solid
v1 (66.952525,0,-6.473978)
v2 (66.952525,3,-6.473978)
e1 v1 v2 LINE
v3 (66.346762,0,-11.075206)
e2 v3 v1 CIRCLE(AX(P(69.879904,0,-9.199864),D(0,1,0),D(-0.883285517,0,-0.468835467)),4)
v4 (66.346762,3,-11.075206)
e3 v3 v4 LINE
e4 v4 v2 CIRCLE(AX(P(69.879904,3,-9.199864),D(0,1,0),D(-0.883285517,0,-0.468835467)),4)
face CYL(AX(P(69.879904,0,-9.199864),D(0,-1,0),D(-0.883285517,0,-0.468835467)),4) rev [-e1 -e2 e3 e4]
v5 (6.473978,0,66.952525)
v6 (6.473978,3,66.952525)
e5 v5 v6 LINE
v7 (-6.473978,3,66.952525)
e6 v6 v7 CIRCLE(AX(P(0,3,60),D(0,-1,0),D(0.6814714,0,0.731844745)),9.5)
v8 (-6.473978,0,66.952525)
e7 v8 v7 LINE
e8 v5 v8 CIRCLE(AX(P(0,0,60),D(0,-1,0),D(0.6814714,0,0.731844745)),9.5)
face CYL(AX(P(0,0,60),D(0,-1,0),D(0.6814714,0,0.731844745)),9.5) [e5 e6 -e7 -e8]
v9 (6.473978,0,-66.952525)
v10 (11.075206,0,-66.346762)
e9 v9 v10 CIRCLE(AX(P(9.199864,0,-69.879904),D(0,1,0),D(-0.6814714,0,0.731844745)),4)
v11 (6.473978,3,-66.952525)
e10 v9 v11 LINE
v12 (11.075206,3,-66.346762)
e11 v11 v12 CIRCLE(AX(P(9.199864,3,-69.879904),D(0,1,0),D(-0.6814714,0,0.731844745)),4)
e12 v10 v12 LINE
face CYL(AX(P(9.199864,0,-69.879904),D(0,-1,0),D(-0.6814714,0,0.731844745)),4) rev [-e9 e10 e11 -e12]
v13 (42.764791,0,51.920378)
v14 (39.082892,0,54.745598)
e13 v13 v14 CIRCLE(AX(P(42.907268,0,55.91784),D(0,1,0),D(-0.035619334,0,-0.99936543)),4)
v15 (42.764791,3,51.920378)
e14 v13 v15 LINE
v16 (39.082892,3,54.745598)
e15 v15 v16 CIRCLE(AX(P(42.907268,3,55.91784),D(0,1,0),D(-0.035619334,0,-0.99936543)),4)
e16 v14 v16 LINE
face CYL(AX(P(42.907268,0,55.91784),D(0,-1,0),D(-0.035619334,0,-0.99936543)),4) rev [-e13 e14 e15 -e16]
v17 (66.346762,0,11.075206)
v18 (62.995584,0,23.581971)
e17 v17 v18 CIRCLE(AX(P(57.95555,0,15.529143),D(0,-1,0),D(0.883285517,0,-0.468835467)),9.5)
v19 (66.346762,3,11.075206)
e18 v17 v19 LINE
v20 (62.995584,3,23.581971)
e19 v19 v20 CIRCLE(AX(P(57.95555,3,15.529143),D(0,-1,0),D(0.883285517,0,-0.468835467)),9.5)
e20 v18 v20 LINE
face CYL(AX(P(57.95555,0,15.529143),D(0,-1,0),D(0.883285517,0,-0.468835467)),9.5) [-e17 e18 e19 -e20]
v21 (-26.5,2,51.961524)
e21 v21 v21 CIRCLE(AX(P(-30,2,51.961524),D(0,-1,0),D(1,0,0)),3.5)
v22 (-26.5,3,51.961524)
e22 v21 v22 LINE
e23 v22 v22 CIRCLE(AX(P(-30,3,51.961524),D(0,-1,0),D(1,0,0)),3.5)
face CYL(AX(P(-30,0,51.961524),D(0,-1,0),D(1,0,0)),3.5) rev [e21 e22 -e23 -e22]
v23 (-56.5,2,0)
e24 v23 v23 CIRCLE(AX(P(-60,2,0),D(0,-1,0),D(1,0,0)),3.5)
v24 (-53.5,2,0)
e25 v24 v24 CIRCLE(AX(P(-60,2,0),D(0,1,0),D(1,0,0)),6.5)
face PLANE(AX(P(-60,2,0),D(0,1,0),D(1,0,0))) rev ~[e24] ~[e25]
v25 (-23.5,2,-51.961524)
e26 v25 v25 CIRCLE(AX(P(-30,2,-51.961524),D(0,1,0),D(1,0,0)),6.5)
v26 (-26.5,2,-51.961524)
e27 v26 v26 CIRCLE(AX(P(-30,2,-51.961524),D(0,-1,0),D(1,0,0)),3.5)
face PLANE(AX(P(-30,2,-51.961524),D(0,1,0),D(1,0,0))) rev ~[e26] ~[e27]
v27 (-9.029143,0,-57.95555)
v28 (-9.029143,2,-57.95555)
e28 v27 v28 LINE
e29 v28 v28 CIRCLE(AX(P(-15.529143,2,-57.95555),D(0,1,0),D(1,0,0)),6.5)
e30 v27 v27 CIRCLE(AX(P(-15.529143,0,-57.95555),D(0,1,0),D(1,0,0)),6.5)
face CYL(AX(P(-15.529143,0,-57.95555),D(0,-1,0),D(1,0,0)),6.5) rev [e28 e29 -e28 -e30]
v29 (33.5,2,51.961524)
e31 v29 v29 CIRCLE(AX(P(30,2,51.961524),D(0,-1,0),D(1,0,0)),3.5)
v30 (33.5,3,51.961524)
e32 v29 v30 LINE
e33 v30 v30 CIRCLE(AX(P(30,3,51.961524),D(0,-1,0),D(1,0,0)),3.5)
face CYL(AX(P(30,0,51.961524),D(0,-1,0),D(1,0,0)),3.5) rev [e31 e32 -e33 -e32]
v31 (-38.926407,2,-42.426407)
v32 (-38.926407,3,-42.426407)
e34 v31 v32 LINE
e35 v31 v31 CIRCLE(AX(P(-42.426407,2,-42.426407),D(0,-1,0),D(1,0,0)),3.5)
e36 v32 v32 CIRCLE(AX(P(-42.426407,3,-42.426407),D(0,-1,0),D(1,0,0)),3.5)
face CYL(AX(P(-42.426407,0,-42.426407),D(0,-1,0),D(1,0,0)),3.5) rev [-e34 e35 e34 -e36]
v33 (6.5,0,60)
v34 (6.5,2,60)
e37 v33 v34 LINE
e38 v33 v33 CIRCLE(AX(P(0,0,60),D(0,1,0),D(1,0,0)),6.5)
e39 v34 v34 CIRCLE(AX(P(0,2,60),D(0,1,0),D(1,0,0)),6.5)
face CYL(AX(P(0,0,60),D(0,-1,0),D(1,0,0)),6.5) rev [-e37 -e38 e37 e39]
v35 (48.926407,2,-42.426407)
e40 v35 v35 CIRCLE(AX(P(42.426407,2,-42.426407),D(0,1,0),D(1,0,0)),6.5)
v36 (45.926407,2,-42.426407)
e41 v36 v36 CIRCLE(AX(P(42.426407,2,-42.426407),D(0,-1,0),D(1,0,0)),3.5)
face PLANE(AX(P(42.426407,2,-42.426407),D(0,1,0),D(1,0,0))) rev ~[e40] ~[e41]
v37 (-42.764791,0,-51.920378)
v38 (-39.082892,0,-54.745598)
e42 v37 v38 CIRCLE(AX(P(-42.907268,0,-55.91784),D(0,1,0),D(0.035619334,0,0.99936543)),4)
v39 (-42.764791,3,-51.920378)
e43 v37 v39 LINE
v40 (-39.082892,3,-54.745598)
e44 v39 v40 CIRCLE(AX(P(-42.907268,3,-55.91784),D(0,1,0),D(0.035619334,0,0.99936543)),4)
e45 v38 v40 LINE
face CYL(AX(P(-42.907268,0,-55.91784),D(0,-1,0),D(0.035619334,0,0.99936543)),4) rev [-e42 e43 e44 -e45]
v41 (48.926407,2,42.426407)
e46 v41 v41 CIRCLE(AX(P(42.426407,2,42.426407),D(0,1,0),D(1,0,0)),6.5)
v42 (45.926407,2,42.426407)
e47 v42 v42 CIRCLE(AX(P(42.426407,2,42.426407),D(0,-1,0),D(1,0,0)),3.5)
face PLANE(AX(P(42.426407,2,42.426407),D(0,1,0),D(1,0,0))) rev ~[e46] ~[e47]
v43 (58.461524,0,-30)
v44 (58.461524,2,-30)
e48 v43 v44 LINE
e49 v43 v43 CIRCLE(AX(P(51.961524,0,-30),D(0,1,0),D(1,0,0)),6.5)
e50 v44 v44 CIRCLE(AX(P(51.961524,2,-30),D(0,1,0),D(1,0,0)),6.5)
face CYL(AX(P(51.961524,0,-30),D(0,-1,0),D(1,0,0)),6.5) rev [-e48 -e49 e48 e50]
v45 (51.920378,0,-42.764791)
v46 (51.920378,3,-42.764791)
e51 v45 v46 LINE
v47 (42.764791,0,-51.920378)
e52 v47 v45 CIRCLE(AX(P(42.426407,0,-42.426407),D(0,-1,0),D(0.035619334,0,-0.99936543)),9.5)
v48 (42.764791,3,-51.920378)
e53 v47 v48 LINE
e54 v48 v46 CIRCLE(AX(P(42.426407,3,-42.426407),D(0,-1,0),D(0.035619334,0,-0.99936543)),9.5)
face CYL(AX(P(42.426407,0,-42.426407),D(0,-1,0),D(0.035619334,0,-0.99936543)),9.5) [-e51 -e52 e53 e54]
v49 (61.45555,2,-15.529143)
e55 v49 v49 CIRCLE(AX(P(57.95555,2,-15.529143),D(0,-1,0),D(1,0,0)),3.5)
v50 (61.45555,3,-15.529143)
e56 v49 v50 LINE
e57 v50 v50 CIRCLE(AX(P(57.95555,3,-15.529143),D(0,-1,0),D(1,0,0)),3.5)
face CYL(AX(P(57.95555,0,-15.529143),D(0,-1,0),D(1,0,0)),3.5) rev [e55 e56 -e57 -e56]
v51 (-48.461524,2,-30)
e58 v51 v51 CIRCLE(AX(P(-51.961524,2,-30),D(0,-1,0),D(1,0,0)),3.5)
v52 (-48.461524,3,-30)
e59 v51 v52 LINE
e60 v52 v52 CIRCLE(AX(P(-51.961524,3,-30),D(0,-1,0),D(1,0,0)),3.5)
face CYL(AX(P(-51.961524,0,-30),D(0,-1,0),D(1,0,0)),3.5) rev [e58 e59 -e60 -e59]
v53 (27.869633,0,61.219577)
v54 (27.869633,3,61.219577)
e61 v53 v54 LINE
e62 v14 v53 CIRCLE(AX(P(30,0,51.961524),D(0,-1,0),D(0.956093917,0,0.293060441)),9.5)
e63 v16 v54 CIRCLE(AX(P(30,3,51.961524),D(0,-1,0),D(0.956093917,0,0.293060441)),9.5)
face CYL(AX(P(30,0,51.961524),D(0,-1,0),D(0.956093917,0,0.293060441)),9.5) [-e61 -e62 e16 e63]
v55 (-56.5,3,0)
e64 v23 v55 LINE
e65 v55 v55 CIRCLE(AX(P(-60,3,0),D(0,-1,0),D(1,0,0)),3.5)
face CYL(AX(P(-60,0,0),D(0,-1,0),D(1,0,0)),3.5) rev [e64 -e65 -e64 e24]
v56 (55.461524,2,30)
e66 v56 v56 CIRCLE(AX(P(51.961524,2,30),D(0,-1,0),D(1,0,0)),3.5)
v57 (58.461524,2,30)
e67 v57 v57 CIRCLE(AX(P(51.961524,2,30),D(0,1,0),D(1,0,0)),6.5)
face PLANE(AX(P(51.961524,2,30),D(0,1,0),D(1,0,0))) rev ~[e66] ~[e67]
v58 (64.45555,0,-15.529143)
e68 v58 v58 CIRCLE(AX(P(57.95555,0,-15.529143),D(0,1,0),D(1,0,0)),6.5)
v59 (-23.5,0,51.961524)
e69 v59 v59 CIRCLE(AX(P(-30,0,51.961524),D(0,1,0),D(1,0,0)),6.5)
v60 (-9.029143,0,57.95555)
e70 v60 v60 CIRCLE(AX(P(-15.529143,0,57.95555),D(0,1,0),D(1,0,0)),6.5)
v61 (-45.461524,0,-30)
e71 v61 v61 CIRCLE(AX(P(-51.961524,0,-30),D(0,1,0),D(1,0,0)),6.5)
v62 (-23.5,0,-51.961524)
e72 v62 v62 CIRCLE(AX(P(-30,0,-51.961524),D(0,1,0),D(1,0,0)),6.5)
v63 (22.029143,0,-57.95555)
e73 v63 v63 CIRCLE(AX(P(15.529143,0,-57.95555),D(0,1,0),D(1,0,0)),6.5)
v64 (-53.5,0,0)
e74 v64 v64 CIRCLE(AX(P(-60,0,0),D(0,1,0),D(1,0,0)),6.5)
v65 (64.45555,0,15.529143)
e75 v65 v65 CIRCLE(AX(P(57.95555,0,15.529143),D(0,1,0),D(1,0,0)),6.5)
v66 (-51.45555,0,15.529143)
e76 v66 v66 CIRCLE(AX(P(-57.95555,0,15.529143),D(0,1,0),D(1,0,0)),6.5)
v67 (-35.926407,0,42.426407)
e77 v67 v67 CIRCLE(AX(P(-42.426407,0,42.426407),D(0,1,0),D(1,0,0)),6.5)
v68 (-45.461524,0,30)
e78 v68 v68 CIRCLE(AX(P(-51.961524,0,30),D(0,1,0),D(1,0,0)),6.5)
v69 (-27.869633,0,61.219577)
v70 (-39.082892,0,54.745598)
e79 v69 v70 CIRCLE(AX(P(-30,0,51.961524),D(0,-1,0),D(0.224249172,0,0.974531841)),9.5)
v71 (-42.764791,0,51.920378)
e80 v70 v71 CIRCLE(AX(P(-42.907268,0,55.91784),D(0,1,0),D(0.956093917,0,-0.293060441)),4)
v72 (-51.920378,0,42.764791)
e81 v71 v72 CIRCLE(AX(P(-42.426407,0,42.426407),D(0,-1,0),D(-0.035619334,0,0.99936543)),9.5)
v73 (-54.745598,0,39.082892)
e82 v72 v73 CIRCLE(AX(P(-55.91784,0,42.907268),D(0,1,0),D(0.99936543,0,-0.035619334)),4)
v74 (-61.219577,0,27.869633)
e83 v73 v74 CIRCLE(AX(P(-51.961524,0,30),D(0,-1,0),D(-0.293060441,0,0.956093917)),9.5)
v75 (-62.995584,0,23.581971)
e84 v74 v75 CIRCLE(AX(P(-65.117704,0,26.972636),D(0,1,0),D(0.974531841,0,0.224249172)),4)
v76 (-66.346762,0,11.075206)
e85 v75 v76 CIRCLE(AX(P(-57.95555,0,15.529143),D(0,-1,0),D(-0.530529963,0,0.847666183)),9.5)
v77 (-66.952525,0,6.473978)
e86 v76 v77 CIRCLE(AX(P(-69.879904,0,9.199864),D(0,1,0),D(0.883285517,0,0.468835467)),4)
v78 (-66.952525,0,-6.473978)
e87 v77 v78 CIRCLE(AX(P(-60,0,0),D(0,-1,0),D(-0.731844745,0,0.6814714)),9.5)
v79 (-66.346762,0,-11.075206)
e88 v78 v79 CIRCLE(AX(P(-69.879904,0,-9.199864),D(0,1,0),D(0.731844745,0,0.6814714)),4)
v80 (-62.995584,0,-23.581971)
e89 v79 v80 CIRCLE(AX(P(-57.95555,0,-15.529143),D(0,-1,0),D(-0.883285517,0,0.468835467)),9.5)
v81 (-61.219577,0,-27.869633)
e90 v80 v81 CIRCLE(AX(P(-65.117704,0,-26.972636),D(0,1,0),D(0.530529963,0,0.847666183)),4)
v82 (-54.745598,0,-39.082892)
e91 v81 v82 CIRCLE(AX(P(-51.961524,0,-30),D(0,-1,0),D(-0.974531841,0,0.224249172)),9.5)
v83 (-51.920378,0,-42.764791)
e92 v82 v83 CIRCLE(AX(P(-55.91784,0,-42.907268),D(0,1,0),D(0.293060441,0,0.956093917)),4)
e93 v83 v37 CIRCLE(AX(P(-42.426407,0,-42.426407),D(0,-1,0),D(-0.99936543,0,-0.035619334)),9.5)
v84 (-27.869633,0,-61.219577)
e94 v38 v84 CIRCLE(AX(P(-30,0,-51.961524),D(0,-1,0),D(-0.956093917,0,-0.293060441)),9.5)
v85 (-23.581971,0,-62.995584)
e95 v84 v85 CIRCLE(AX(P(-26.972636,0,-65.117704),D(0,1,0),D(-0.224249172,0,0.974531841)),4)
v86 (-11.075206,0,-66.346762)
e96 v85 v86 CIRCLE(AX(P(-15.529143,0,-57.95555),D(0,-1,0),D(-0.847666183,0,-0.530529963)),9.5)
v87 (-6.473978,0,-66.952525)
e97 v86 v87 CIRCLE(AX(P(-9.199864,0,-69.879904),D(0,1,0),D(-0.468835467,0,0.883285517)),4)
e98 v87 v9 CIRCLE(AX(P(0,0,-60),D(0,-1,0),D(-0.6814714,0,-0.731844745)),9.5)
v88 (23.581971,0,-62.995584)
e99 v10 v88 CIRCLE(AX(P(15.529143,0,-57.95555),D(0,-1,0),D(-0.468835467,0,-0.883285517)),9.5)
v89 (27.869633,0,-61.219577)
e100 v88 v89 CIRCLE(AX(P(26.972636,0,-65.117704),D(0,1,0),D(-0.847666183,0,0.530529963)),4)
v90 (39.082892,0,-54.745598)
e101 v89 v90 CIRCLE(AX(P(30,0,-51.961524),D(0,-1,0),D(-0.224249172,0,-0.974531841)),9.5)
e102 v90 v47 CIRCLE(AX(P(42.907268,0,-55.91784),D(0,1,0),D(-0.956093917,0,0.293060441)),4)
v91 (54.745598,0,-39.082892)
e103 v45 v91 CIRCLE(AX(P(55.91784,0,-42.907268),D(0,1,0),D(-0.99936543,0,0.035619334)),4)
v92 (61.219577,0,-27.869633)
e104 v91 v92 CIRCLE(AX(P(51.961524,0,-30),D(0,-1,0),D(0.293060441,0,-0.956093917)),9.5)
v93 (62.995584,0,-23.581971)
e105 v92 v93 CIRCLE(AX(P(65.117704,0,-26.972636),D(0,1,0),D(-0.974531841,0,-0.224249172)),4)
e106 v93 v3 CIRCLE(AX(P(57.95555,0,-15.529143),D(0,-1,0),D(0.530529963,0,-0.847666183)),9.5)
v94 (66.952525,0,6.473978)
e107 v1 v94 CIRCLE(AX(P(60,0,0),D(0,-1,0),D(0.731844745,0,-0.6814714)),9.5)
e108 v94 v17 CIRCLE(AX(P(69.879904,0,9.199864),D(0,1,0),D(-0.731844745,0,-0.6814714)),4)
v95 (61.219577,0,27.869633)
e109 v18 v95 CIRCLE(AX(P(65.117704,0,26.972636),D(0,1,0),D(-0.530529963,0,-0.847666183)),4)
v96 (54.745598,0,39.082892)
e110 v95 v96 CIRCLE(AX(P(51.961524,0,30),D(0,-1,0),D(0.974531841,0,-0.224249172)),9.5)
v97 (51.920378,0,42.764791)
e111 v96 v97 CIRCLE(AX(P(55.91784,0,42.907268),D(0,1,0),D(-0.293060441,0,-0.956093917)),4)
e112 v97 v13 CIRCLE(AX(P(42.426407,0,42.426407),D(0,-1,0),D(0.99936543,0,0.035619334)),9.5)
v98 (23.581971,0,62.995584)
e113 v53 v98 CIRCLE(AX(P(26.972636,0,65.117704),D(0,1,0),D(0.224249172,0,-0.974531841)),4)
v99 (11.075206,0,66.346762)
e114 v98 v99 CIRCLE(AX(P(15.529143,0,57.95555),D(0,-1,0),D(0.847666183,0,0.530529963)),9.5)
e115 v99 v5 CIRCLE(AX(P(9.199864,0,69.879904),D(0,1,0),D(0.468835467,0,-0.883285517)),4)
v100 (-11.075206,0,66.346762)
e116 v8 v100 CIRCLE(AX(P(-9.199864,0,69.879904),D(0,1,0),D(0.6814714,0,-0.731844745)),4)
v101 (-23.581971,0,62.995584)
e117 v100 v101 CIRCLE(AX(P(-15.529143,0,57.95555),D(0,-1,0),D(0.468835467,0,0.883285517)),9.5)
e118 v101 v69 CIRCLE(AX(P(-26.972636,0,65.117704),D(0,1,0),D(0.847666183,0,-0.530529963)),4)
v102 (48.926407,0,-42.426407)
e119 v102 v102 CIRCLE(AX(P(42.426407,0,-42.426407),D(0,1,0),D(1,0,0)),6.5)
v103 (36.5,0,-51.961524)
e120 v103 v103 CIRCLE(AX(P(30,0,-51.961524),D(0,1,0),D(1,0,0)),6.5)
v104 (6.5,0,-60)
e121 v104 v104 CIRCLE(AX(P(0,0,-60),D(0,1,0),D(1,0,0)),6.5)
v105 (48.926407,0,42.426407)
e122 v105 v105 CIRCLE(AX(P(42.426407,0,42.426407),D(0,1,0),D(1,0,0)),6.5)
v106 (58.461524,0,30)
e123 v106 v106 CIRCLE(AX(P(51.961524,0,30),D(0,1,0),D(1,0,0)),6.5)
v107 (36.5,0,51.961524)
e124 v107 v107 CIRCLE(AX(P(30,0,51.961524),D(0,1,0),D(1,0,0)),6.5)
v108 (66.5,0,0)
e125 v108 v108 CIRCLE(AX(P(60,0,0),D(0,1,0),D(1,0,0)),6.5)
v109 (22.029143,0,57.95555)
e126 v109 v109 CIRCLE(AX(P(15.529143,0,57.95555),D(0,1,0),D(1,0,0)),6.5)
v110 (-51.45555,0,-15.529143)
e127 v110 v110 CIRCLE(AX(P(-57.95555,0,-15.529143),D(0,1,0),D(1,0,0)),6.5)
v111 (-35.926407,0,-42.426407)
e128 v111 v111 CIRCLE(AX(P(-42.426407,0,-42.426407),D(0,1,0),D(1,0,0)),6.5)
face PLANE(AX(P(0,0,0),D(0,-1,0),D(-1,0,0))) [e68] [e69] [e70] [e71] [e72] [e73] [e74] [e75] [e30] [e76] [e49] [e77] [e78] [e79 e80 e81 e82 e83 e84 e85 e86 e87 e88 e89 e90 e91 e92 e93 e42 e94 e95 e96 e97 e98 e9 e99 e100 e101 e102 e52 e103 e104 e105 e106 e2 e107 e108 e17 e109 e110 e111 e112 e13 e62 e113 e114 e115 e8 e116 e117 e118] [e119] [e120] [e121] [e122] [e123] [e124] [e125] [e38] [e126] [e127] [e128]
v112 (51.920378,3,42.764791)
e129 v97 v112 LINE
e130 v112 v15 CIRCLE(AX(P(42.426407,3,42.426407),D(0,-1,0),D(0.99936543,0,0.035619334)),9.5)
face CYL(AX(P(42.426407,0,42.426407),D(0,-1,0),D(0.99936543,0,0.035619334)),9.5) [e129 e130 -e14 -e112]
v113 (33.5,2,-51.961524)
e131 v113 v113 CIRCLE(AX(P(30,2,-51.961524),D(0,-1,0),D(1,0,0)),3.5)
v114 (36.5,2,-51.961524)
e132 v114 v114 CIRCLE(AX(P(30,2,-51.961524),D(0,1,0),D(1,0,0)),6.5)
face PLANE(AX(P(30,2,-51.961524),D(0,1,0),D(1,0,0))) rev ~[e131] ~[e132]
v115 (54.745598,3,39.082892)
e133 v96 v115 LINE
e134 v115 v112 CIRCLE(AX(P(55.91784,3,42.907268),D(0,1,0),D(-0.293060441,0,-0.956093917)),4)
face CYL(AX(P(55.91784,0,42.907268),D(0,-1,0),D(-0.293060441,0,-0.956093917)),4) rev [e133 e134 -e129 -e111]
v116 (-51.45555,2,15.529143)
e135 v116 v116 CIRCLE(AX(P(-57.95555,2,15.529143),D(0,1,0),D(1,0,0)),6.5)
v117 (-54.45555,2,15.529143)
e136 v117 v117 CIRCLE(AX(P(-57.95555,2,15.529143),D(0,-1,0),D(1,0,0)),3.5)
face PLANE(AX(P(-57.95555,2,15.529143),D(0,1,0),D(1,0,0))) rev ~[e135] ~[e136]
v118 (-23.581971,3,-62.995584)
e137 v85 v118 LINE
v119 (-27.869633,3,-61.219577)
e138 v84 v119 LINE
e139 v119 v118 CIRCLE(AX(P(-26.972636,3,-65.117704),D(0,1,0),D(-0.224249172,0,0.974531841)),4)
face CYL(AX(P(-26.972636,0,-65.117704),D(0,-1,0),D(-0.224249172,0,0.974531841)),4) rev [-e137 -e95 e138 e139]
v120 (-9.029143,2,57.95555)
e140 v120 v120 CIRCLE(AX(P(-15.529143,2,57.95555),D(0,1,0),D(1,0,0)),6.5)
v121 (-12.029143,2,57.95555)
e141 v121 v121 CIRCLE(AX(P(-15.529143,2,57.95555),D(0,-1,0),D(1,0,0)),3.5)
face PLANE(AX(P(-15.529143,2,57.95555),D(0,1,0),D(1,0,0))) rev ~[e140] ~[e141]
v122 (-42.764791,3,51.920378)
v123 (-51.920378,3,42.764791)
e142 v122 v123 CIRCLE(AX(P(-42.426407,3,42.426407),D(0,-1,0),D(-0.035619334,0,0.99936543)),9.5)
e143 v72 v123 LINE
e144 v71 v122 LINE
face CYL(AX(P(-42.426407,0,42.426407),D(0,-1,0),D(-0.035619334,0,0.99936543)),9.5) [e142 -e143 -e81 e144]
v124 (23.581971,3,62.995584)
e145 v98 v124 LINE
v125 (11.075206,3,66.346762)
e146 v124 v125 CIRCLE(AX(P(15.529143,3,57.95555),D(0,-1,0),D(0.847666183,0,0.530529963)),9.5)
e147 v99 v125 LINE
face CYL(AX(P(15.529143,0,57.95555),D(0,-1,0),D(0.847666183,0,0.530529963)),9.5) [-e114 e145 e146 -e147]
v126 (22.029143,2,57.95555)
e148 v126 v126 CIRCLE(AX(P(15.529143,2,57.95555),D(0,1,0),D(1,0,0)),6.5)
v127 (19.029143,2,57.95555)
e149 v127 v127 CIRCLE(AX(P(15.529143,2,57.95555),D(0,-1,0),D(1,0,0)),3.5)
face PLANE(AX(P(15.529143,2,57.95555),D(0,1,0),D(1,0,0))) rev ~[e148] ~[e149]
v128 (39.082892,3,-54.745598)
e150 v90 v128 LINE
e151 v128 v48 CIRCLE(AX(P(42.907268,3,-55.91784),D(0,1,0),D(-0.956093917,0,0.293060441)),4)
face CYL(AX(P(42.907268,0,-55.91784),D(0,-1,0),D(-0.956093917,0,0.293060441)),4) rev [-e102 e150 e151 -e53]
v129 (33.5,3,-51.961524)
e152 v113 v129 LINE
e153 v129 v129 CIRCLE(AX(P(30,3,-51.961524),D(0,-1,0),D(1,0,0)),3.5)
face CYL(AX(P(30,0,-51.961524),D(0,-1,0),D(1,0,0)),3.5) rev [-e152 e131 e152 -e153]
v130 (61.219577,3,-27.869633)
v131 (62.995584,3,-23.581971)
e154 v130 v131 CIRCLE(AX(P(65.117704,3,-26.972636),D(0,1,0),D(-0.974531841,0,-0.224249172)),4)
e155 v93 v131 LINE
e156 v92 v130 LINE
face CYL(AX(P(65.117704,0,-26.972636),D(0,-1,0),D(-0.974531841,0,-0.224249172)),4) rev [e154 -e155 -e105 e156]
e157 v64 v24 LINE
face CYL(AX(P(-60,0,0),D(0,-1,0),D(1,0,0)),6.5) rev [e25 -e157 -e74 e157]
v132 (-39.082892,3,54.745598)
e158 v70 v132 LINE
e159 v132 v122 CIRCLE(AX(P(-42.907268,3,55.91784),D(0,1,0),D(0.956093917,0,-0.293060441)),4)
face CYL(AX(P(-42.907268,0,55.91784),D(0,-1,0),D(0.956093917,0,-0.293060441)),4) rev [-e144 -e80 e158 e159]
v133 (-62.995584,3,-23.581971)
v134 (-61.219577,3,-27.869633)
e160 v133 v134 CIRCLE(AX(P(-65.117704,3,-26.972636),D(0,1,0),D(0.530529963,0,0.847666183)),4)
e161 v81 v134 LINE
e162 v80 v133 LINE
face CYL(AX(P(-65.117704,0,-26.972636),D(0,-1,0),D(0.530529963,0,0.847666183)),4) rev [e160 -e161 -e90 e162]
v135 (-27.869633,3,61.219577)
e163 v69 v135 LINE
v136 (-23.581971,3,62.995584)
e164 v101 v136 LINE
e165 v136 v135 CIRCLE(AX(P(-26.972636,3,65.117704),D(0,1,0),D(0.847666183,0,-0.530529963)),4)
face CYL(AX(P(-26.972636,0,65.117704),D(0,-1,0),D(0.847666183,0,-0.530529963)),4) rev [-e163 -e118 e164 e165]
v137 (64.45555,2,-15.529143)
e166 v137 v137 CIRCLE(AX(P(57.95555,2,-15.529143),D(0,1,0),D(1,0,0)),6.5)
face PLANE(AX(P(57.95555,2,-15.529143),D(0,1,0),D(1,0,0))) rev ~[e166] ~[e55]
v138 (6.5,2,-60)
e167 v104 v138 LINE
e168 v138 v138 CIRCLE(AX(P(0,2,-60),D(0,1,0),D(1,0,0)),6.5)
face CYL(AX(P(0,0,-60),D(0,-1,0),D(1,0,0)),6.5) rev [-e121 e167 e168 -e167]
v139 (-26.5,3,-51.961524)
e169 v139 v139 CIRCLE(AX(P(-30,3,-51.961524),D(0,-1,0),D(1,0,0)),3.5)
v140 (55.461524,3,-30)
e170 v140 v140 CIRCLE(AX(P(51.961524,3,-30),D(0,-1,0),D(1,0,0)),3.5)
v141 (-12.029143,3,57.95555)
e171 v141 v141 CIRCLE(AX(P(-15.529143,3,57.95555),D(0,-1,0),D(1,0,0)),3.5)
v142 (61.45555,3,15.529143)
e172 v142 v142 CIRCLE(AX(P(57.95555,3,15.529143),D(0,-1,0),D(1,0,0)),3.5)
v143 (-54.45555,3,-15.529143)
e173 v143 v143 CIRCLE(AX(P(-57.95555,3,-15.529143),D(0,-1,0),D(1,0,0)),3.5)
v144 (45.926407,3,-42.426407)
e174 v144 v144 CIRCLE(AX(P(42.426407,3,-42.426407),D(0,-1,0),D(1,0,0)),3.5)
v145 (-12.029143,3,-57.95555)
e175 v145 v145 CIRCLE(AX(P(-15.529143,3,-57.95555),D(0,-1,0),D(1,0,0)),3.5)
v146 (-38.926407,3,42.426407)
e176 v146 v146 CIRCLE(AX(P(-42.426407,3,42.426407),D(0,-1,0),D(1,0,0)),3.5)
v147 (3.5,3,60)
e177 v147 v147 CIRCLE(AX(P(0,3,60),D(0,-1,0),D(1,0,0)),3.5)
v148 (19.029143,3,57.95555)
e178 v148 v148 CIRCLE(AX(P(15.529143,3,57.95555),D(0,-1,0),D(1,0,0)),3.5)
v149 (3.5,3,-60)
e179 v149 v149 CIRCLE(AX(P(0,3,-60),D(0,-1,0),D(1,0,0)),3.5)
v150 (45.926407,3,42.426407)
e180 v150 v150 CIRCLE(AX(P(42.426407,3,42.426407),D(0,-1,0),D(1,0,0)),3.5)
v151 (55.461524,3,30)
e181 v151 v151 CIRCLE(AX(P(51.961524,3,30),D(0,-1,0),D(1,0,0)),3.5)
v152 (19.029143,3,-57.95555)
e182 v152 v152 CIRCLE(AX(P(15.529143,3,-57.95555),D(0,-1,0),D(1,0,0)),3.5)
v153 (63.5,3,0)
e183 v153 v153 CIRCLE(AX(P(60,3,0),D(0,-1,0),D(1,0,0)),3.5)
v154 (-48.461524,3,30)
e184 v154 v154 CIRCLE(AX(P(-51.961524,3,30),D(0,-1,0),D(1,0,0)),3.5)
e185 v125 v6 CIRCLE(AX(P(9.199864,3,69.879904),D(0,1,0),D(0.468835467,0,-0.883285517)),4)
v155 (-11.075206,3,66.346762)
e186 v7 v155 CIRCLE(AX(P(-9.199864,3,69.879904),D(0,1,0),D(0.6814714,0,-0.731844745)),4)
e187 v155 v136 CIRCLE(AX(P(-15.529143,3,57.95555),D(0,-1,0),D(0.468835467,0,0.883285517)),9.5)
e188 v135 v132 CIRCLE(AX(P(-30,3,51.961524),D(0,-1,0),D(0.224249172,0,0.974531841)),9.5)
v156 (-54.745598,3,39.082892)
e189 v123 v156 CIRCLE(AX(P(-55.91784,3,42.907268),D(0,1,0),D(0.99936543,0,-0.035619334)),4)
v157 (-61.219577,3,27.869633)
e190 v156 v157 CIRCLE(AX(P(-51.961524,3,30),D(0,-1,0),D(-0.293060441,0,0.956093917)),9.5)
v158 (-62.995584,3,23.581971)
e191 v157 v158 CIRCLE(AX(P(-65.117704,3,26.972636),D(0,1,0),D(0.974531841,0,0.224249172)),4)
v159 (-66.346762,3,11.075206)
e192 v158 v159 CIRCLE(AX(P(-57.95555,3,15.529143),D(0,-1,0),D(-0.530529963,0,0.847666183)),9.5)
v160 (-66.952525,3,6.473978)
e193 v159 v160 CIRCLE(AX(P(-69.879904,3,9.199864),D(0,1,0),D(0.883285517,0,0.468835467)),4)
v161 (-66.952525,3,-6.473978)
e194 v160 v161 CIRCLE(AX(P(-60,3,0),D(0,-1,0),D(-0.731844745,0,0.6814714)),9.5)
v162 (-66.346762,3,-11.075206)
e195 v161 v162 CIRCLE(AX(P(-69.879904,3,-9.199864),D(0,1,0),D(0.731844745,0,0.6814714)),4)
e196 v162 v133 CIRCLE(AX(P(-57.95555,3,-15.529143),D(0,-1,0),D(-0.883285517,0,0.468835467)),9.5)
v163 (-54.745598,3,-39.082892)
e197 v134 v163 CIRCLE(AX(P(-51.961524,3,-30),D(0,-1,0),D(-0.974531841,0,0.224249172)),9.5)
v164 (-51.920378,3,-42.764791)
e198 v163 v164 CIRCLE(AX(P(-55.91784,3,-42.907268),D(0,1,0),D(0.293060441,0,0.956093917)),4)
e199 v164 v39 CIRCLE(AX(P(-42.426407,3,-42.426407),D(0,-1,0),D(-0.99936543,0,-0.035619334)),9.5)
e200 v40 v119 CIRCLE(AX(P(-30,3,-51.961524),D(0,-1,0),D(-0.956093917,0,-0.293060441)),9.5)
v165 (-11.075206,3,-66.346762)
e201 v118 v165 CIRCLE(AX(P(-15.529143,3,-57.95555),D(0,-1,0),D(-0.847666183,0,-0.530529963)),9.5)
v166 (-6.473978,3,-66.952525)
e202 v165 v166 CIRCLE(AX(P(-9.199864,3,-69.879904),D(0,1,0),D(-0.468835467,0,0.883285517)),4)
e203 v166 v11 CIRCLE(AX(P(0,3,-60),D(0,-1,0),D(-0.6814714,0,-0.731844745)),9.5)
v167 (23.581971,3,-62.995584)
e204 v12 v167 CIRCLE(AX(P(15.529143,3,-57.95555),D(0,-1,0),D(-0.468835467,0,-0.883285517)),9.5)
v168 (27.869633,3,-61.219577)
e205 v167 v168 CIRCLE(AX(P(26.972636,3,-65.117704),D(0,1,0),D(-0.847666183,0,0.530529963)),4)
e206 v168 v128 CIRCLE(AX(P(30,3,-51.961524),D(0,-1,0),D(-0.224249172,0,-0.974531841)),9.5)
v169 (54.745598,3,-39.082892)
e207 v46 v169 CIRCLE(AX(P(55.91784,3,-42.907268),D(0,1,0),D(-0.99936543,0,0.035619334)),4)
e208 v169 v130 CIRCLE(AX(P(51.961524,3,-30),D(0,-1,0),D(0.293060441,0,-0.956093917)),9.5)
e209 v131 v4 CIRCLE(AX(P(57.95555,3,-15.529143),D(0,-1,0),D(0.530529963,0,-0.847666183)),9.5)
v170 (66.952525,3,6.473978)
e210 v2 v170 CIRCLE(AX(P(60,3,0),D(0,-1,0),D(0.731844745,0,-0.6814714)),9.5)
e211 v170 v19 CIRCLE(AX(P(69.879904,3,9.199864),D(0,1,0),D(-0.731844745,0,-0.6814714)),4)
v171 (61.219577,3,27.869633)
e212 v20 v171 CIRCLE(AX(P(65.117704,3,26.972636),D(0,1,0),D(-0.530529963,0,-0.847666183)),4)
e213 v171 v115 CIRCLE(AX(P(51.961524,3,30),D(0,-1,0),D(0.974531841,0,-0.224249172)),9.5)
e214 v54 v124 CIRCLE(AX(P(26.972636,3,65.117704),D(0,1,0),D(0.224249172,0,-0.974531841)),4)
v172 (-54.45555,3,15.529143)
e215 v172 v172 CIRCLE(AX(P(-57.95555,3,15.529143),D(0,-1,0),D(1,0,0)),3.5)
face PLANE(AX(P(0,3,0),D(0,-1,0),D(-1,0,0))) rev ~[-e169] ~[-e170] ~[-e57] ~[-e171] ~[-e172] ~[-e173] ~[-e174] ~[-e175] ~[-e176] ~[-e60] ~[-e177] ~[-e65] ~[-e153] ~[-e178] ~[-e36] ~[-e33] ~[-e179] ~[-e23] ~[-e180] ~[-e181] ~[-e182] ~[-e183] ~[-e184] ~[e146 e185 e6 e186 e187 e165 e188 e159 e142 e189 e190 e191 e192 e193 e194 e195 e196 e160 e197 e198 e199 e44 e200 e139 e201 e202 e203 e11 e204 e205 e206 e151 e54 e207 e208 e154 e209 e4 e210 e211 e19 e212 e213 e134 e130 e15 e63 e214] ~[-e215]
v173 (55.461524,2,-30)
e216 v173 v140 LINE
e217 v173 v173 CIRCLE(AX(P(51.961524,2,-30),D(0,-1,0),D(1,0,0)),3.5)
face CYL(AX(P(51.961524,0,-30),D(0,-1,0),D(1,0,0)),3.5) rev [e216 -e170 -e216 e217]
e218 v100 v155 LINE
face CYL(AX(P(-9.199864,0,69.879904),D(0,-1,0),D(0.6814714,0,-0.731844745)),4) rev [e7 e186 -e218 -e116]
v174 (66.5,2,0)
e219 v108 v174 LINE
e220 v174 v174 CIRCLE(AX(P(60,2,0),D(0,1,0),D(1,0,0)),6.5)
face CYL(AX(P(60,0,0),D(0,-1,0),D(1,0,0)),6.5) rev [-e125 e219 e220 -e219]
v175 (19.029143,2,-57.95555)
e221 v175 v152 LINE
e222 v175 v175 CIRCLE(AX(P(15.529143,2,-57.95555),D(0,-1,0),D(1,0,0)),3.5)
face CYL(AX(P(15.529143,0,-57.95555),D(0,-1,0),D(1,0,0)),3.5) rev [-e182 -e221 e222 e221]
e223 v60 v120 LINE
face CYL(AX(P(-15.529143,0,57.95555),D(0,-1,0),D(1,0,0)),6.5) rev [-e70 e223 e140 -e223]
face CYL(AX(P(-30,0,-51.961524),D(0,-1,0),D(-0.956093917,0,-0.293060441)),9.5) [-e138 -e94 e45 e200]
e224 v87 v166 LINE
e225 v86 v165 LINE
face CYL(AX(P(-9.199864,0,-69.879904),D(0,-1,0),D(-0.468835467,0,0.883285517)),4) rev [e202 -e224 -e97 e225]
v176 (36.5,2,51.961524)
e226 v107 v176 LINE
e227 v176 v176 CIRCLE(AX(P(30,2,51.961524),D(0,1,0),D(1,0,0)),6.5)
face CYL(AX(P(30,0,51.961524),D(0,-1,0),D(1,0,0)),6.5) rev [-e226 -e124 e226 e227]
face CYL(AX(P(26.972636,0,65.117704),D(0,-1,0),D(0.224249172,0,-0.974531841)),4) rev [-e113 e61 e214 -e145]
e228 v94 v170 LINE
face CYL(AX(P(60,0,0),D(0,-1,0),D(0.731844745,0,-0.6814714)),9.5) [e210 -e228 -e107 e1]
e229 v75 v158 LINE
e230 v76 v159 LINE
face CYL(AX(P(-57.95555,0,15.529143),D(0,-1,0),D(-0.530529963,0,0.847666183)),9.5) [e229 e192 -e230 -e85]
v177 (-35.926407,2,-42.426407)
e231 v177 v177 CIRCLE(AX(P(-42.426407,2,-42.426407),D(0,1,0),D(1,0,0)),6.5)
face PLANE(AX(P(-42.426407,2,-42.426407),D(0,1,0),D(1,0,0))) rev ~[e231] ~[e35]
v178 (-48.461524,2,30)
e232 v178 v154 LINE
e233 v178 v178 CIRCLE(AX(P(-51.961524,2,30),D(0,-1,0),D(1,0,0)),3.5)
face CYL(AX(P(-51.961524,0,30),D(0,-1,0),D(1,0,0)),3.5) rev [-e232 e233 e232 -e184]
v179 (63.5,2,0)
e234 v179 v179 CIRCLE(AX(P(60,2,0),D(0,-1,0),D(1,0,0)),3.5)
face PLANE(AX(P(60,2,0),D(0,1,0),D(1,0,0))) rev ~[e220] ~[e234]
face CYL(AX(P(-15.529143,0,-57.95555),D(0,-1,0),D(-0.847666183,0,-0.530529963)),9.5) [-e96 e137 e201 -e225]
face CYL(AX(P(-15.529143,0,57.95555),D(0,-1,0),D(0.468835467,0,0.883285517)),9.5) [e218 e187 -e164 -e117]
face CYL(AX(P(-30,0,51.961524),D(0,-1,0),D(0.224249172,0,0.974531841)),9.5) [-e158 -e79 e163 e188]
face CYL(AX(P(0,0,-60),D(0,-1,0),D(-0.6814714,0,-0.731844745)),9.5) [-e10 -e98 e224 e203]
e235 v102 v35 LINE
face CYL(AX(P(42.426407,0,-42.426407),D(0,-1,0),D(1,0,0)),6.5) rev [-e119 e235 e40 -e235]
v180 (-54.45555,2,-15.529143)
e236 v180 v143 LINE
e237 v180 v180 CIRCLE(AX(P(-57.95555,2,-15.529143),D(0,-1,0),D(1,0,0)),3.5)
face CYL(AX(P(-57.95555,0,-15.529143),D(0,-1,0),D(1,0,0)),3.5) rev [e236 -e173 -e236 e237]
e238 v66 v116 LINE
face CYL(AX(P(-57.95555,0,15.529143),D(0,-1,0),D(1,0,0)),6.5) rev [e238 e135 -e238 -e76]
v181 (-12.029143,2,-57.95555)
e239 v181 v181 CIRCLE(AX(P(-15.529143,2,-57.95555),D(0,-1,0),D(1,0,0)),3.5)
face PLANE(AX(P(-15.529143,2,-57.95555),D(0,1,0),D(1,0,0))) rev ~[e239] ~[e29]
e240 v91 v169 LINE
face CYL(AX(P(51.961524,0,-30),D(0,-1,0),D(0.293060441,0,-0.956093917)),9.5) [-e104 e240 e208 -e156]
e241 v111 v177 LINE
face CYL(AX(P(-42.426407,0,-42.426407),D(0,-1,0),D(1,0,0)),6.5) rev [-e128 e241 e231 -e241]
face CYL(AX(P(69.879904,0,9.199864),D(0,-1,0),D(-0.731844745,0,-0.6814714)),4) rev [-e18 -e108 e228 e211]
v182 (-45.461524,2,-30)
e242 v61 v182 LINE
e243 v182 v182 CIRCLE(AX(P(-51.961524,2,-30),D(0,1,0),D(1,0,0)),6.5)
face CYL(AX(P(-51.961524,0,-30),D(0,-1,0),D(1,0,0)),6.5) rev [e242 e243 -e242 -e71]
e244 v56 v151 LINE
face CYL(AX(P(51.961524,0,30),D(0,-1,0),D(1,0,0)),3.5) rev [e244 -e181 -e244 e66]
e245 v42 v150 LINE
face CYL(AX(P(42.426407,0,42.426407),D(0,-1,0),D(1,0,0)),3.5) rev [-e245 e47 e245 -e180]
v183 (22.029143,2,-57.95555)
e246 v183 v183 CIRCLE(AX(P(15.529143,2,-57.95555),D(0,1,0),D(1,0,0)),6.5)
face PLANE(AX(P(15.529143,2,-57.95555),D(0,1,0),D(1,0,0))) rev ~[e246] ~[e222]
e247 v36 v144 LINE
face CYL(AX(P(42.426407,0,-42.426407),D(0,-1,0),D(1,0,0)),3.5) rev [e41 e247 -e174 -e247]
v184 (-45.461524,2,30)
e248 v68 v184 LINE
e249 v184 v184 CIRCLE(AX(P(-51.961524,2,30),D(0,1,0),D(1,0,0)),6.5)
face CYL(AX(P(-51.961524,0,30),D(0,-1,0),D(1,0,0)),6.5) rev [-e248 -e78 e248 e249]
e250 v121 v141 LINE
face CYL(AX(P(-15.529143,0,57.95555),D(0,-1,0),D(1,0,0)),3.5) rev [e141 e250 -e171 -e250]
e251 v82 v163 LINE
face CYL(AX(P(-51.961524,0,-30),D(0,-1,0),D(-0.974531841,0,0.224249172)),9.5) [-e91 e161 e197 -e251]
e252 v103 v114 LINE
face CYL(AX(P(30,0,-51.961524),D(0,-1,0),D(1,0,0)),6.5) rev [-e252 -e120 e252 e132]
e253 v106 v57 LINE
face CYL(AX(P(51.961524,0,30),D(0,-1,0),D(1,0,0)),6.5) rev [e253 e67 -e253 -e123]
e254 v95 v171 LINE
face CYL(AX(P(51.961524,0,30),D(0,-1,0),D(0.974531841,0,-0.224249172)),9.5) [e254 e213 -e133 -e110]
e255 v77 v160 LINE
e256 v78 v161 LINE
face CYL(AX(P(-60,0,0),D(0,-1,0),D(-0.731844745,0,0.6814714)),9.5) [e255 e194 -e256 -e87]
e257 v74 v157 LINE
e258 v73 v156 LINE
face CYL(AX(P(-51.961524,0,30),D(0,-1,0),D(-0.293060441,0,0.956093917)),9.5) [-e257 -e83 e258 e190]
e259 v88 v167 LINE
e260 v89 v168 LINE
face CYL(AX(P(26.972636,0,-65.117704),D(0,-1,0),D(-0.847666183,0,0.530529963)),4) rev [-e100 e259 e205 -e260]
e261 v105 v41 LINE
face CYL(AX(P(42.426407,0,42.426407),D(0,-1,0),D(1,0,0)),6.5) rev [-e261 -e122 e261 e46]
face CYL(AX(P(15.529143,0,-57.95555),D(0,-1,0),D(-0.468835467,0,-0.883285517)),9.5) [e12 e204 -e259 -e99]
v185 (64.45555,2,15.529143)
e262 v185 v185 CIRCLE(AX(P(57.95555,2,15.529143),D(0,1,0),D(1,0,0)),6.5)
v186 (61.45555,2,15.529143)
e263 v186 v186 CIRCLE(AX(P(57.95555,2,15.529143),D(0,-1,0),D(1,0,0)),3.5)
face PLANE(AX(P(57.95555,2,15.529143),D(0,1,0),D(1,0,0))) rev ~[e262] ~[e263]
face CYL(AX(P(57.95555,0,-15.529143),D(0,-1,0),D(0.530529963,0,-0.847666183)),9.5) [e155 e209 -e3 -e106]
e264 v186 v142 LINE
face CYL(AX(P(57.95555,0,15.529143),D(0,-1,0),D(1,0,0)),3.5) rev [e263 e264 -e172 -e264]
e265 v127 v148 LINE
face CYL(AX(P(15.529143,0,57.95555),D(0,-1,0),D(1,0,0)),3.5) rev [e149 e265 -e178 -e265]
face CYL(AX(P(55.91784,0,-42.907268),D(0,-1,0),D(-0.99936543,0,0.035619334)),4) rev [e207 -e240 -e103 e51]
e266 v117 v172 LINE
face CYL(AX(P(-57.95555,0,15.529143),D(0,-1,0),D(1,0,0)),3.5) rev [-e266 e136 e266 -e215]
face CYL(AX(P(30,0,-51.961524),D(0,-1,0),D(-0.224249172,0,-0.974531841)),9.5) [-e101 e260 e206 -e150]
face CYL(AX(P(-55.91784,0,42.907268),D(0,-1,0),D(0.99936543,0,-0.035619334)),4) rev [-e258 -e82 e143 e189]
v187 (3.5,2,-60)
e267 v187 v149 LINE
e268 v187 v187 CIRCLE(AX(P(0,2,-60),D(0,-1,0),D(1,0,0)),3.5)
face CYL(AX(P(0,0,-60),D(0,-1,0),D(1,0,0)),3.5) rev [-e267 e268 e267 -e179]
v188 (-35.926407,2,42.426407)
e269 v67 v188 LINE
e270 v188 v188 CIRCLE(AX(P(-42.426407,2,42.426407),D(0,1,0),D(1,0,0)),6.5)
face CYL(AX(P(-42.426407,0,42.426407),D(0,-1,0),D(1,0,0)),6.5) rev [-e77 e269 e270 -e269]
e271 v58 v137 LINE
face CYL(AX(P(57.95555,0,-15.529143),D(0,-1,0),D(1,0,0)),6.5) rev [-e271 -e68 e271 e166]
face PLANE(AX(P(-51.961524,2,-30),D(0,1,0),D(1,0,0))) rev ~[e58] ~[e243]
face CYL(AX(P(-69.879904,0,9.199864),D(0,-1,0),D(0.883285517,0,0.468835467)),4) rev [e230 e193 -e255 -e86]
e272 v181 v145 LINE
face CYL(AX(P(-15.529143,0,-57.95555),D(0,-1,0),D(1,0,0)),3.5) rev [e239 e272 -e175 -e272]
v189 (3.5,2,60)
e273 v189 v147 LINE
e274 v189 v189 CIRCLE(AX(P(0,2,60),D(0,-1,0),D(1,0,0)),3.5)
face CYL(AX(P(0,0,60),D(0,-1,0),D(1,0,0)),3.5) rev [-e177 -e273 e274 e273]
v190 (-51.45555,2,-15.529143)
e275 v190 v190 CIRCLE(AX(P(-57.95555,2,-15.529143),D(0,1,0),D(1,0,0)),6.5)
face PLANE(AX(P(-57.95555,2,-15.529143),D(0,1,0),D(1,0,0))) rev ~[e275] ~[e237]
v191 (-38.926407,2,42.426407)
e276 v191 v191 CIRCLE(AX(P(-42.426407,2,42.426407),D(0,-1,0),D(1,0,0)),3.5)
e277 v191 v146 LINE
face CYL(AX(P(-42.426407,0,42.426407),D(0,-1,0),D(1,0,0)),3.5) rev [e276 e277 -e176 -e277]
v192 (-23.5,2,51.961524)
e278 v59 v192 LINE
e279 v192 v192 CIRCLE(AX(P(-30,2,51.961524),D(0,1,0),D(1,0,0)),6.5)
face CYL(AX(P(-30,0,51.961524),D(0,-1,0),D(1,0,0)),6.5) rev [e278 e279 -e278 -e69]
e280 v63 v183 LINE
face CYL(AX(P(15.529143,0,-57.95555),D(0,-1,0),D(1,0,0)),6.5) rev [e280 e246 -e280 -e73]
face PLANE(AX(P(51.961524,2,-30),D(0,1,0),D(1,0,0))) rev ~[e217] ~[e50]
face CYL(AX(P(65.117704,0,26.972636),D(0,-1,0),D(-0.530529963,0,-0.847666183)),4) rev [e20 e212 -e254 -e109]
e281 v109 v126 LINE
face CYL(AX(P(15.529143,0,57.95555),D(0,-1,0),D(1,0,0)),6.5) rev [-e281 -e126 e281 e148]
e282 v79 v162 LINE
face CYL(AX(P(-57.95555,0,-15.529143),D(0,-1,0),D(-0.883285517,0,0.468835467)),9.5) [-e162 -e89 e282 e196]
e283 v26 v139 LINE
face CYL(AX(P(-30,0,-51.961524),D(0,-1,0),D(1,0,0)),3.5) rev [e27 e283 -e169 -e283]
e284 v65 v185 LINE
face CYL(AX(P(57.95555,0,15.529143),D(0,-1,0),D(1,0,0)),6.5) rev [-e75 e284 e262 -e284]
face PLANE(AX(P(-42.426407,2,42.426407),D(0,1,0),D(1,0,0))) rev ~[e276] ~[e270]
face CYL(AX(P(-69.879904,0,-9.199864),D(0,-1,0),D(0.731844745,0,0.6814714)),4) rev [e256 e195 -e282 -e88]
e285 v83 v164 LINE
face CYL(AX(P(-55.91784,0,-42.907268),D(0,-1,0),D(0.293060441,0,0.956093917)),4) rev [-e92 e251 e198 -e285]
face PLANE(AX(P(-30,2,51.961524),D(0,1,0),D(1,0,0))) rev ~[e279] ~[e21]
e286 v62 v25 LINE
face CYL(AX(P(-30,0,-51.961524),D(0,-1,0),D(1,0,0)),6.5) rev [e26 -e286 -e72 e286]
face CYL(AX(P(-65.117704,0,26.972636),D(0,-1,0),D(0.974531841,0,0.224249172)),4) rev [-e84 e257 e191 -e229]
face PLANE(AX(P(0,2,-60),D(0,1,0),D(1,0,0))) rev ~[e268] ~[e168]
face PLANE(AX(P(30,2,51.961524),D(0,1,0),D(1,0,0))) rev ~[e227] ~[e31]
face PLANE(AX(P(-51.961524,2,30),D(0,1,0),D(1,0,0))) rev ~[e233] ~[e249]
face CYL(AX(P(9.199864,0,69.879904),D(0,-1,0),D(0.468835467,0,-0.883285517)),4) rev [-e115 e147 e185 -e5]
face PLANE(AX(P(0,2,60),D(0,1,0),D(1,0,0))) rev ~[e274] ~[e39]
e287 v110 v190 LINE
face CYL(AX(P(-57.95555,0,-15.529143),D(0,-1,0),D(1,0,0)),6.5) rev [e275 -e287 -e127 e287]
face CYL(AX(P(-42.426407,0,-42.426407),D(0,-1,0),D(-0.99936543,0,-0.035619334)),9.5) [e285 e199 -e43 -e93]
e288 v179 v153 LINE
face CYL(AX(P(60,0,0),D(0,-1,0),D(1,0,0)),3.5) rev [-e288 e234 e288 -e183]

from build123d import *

# Parameters (mm, degrees)
EXTRUDE_2_DEPTH     = 3
SKETCH_1_R          = 3.5
CUT_EXTRUDE_2_DEPTH = 4
SKETCH_2_R          = 6.5
CUT_EXTRUDE_4_DEPTH = 2


with BuildPart() as part:
    # Эскиз3 → Бобышка-Вытянуть2 (new body)
    with BuildSketch(Plane(origin=(0, 0, 0), x_dir=(1, 0, 0), z_dir=(0, 1, 0))):
        with BuildLine():
            ThreePointArc((-6.4739783, 66.952525078), (0, 69.5), (6.4739783, 66.952525078))
            ThreePointArc((6.4739783, 66.952525078), (8.677759132, 65.914124613), (11.075205769, 66.34676199))
            ThreePointArc((11.075205769, 66.34676199), (17.987923635, 67.131844927), (23.581971447, 62.995584227))
            ThreePointArc((23.581971447, 62.995584227), (25.441902451, 61.422185949), (27.869632868, 61.219576716))
            ThreePointArc((27.869632868, 61.219576716), (34.75, 60.188765563), (39.082892211, 54.745598415))
            ThreePointArc((39.082892211, 54.745598415), (40.472222163, 52.744426818), (42.764790543, 51.920378458))
            ThreePointArc((42.764790543, 51.920378458), (49.143921292, 49.143921292), (51.920378458, 42.764790543))
            ThreePointArc((51.920378458, 42.764790543), (52.744426818, 40.472222163), (54.745598415, 39.082892211))
            ThreePointArc((54.745598415, 39.082892211), (60.188765563, 34.75), (61.219576716, 27.869632868))
            ThreePointArc((61.219576716, 27.869632868), (61.422185949, 25.441902451), (62.995584227, 23.581971447))
            ThreePointArc((62.995584227, 23.581971447), (67.131844927, 17.987923635), (66.34676199, 11.075205769))
            ThreePointArc((66.34676199, 11.075205769), (65.914124613, 8.677759132), (66.952525078, 6.4739783))
            ThreePointArc((66.952525078, 6.4739783), (69.5, 0), (66.952525078, -6.4739783))
            ThreePointArc((66.952525078, -6.4739783), (65.914124613, -8.677759132), (66.34676199, -11.075205769))
            ThreePointArc((66.34676199, -11.075205769), (67.131844927, -17.987923635), (62.995584227, -23.581971447))
            ThreePointArc((62.995584227, -23.581971447), (61.422185949, -25.441902451), (61.219576716, -27.869632868))
            ThreePointArc((61.219576716, -27.869632868), (60.188765563, -34.75), (54.745598415, -39.082892211))
            ThreePointArc((54.745598415, -39.082892211), (52.744426818, -40.472222163), (51.920378458, -42.764790543))
            ThreePointArc((51.920378458, -42.764790543), (49.143921292, -49.143921292), (42.764790543, -51.920378458))
            ThreePointArc((42.764790543, -51.920378458), (40.472222163, -52.744426818), (39.082892211, -54.745598415))
            ThreePointArc((39.082892211, -54.745598415), (34.75, -60.188765563), (27.869632868, -61.219576716))
            ThreePointArc((27.869632868, -61.219576716), (25.441902451, -61.422185949), (23.581971447, -62.995584227))
            ThreePointArc((23.581971447, -62.995584227), (17.987923635, -67.131844927), (11.075205769, -66.34676199))
            ThreePointArc((11.075205769, -66.34676199), (8.677759132, -65.914124613), (6.4739783, -66.952525078))
            ThreePointArc((6.4739783, -66.952525078), (0, -69.5), (-6.4739783, -66.952525078))
            ThreePointArc((-6.4739783, -66.952525078), (-8.677759132, -65.914124613), (-11.075205769, -66.34676199))
            ThreePointArc((-11.075205769, -66.34676199), (-17.987923635, -67.131844927), (-23.581971447, -62.995584227))
            ThreePointArc((-23.581971447, -62.995584227), (-25.441902451, -61.422185949), (-27.869632868, -61.219576716))
            ThreePointArc((-27.869632868, -61.219576716), (-34.75, -60.188765563), (-39.082892211, -54.745598415))
            ThreePointArc((-39.082892211, -54.745598415), (-40.472222163, -52.744426818), (-42.764790543, -51.920378458))
            ThreePointArc((-42.764790543, -51.920378458), (-49.143921292, -49.143921292), (-51.920378458, -42.764790543))
            ThreePointArc((-51.920378458, -42.764790543), (-52.744426818, -40.472222163), (-54.745598415, -39.082892211))
            ThreePointArc((-54.745598415, -39.082892211), (-60.188765563, -34.75), (-61.219576716, -27.869632868))
            ThreePointArc((-61.219576716, -27.869632868), (-61.422185949, -25.441902451), (-62.995584227, -23.581971447))
            ThreePointArc((-62.995584227, -23.581971447), (-67.131844927, -17.987923635), (-66.34676199, -11.075205769))
            ThreePointArc((-66.34676199, -11.075205769), (-65.914124613, -8.677759132), (-66.952525078, -6.4739783))
            ThreePointArc((-66.952525078, -6.4739783), (-69.5, 0), (-66.952525078, 6.4739783))
            ThreePointArc((-66.952525078, 6.4739783), (-65.914124613, 8.677759132), (-66.34676199, 11.075205769))
            ThreePointArc((-66.34676199, 11.075205769), (-67.131844927, 17.987923635), (-62.995584227, 23.581971447))
            ThreePointArc((-62.995584227, 23.581971447), (-61.422185949, 25.441902451), (-61.219576716, 27.869632868))
            ThreePointArc((-61.219576716, 27.869632868), (-60.188765563, 34.75), (-54.745598415, 39.082892211))
            ThreePointArc((-54.745598415, 39.082892211), (-52.744426818, 40.472222163), (-51.920378458, 42.764790543))
            ThreePointArc((-51.920378458, 42.764790543), (-49.143921292, 49.143921292), (-42.764790543, 51.920378458))
            ThreePointArc((-42.764790543, 51.920378458), (-40.472222163, 52.744426818), (-39.082892211, 54.745598415))
            ThreePointArc((-39.082892211, 54.745598415), (-34.75, 60.188765563), (-27.869632868, 61.219576716))
            ThreePointArc((-27.869632868, 61.219576716), (-25.441902451, 61.422185949), (-23.581971447, 62.995584227))
            ThreePointArc((-23.581971447, 62.995584227), (-17.987923635, 67.131844927), (-11.075205769, 66.34676199))
            ThreePointArc((-11.075205769, 66.34676199), (-8.677759132, 65.914124613), (-6.4739783, 66.952525078))
        make_face()
    extrude(amount=EXTRUDE_2_DEPTH)

    # Эскиз1 → Вырез-Вытянуть2 (cut, through all)
    with BuildSketch(Plane(origin=(0, 0, 0), x_dir=(1, 0, 0), z_dir=(0, 1, 0))):
        with Locations((0, 60)):
            Circle(SKETCH_1_R)
        with Locations((15.529142706, 57.955549577)):
            Circle(SKETCH_1_R)
        with Locations((30, 51.961524227)):
            Circle(SKETCH_1_R)
        with Locations((42.426406871, 42.426406871)):
            Circle(SKETCH_1_R)
        with Locations((51.961524227, 30)):
            Circle(SKETCH_1_R)
        with Locations((57.955549577, 15.529142706)):
            Circle(SKETCH_1_R)
        with Locations((60, 0)):
            Circle(SKETCH_1_R)
        with Locations((57.955549577, -15.529142706)):
            Circle(SKETCH_1_R)
        with Locations((51.961524227, -30)):
            Circle(SKETCH_1_R)
        with Locations((42.426406871, -42.426406871)):
            Circle(SKETCH_1_R)
        with Locations((30, -51.961524227)):
            Circle(SKETCH_1_R)
        with Locations((15.529142706, -57.955549577)):
            Circle(SKETCH_1_R)
        with Locations((0, -60)):
            Circle(SKETCH_1_R)
        with Locations((-15.529142706, -57.955549577)):
            Circle(SKETCH_1_R)
        with Locations((-30, -51.961524227)):
            Circle(SKETCH_1_R)
        with Locations((-42.426406871, -42.426406871)):
            Circle(SKETCH_1_R)
        with Locations((-51.961524227, -30)):
            Circle(SKETCH_1_R)
        with Locations((-57.955549577, -15.529142706)):
            Circle(SKETCH_1_R)
        with Locations((-60, 0)):
            Circle(SKETCH_1_R)
        with Locations((-57.955549577, 15.529142706)):
            Circle(SKETCH_1_R)
        with Locations((-51.961524227, 30)):
            Circle(SKETCH_1_R)
        with Locations((-42.426406871, 42.426406871)):
            Circle(SKETCH_1_R)
        with Locations((-30, 51.961524227)):
            Circle(SKETCH_1_R)
        with Locations((-15.529142706, 57.955549577)):
            Circle(SKETCH_1_R)
    extrude(amount=CUT_EXTRUDE_2_DEPTH, mode=Mode.SUBTRACT)

    # Эскиз2 → Вырез-Вытянуть4 (cut)
    with BuildSketch(Plane(origin=(0, 0, 0), x_dir=(1, 0, 0), z_dir=(0, 1, 0))):
        with Locations((0, 60)):
            Circle(SKETCH_2_R)
        with Locations((15.529142706, 57.955549577)):
            Circle(SKETCH_2_R)
        with Locations((30, 51.961524227)):
            Circle(SKETCH_2_R)
        with Locations((42.426406871, 42.426406871)):
            Circle(SKETCH_2_R)
        with Locations((51.961524227, 30)):
            Circle(SKETCH_2_R)
        with Locations((57.955549577, 15.529142706)):
            Circle(SKETCH_2_R)
        with Locations((60, 0)):
            Circle(SKETCH_2_R)
        with Locations((57.955549577, -15.529142706)):
            Circle(SKETCH_2_R)
        with Locations((51.961524227, -30)):
            Circle(SKETCH_2_R)
        with Locations((42.426406871, -42.426406871)):
            Circle(SKETCH_2_R)
        with Locations((30, -51.961524227)):
            Circle(SKETCH_2_R)
        with Locations((15.529142706, -57.955549577)):
            Circle(SKETCH_2_R)
        with Locations((0, -60)):
            Circle(SKETCH_2_R)
        with Locations((-15.529142706, -57.955549577)):
            Circle(SKETCH_2_R)
        with Locations((-30, -51.961524227)):
            Circle(SKETCH_2_R)
        with Locations((-42.426406871, -42.426406871)):
            Circle(SKETCH_2_R)
        with Locations((-51.961524227, -30)):
            Circle(SKETCH_2_R)
        with Locations((-57.955549577, -15.529142706)):
            Circle(SKETCH_2_R)
        with Locations((-60, 0)):
            Circle(SKETCH_2_R)
        with Locations((-57.955549577, 15.529142706)):
            Circle(SKETCH_2_R)
        with Locations((-51.961524227, 30)):
            Circle(SKETCH_2_R)
        with Locations((-42.426406871, 42.426406871)):
            Circle(SKETCH_2_R)
        with Locations((-30, 51.961524227)):
            Circle(SKETCH_2_R)
        with Locations((-15.529142706, 57.955549577)):
            Circle(SKETCH_2_R)
    extrude(amount=CUT_EXTRUDE_4_DEPTH, mode=Mode.SUBTRACT)


solid = part.part
